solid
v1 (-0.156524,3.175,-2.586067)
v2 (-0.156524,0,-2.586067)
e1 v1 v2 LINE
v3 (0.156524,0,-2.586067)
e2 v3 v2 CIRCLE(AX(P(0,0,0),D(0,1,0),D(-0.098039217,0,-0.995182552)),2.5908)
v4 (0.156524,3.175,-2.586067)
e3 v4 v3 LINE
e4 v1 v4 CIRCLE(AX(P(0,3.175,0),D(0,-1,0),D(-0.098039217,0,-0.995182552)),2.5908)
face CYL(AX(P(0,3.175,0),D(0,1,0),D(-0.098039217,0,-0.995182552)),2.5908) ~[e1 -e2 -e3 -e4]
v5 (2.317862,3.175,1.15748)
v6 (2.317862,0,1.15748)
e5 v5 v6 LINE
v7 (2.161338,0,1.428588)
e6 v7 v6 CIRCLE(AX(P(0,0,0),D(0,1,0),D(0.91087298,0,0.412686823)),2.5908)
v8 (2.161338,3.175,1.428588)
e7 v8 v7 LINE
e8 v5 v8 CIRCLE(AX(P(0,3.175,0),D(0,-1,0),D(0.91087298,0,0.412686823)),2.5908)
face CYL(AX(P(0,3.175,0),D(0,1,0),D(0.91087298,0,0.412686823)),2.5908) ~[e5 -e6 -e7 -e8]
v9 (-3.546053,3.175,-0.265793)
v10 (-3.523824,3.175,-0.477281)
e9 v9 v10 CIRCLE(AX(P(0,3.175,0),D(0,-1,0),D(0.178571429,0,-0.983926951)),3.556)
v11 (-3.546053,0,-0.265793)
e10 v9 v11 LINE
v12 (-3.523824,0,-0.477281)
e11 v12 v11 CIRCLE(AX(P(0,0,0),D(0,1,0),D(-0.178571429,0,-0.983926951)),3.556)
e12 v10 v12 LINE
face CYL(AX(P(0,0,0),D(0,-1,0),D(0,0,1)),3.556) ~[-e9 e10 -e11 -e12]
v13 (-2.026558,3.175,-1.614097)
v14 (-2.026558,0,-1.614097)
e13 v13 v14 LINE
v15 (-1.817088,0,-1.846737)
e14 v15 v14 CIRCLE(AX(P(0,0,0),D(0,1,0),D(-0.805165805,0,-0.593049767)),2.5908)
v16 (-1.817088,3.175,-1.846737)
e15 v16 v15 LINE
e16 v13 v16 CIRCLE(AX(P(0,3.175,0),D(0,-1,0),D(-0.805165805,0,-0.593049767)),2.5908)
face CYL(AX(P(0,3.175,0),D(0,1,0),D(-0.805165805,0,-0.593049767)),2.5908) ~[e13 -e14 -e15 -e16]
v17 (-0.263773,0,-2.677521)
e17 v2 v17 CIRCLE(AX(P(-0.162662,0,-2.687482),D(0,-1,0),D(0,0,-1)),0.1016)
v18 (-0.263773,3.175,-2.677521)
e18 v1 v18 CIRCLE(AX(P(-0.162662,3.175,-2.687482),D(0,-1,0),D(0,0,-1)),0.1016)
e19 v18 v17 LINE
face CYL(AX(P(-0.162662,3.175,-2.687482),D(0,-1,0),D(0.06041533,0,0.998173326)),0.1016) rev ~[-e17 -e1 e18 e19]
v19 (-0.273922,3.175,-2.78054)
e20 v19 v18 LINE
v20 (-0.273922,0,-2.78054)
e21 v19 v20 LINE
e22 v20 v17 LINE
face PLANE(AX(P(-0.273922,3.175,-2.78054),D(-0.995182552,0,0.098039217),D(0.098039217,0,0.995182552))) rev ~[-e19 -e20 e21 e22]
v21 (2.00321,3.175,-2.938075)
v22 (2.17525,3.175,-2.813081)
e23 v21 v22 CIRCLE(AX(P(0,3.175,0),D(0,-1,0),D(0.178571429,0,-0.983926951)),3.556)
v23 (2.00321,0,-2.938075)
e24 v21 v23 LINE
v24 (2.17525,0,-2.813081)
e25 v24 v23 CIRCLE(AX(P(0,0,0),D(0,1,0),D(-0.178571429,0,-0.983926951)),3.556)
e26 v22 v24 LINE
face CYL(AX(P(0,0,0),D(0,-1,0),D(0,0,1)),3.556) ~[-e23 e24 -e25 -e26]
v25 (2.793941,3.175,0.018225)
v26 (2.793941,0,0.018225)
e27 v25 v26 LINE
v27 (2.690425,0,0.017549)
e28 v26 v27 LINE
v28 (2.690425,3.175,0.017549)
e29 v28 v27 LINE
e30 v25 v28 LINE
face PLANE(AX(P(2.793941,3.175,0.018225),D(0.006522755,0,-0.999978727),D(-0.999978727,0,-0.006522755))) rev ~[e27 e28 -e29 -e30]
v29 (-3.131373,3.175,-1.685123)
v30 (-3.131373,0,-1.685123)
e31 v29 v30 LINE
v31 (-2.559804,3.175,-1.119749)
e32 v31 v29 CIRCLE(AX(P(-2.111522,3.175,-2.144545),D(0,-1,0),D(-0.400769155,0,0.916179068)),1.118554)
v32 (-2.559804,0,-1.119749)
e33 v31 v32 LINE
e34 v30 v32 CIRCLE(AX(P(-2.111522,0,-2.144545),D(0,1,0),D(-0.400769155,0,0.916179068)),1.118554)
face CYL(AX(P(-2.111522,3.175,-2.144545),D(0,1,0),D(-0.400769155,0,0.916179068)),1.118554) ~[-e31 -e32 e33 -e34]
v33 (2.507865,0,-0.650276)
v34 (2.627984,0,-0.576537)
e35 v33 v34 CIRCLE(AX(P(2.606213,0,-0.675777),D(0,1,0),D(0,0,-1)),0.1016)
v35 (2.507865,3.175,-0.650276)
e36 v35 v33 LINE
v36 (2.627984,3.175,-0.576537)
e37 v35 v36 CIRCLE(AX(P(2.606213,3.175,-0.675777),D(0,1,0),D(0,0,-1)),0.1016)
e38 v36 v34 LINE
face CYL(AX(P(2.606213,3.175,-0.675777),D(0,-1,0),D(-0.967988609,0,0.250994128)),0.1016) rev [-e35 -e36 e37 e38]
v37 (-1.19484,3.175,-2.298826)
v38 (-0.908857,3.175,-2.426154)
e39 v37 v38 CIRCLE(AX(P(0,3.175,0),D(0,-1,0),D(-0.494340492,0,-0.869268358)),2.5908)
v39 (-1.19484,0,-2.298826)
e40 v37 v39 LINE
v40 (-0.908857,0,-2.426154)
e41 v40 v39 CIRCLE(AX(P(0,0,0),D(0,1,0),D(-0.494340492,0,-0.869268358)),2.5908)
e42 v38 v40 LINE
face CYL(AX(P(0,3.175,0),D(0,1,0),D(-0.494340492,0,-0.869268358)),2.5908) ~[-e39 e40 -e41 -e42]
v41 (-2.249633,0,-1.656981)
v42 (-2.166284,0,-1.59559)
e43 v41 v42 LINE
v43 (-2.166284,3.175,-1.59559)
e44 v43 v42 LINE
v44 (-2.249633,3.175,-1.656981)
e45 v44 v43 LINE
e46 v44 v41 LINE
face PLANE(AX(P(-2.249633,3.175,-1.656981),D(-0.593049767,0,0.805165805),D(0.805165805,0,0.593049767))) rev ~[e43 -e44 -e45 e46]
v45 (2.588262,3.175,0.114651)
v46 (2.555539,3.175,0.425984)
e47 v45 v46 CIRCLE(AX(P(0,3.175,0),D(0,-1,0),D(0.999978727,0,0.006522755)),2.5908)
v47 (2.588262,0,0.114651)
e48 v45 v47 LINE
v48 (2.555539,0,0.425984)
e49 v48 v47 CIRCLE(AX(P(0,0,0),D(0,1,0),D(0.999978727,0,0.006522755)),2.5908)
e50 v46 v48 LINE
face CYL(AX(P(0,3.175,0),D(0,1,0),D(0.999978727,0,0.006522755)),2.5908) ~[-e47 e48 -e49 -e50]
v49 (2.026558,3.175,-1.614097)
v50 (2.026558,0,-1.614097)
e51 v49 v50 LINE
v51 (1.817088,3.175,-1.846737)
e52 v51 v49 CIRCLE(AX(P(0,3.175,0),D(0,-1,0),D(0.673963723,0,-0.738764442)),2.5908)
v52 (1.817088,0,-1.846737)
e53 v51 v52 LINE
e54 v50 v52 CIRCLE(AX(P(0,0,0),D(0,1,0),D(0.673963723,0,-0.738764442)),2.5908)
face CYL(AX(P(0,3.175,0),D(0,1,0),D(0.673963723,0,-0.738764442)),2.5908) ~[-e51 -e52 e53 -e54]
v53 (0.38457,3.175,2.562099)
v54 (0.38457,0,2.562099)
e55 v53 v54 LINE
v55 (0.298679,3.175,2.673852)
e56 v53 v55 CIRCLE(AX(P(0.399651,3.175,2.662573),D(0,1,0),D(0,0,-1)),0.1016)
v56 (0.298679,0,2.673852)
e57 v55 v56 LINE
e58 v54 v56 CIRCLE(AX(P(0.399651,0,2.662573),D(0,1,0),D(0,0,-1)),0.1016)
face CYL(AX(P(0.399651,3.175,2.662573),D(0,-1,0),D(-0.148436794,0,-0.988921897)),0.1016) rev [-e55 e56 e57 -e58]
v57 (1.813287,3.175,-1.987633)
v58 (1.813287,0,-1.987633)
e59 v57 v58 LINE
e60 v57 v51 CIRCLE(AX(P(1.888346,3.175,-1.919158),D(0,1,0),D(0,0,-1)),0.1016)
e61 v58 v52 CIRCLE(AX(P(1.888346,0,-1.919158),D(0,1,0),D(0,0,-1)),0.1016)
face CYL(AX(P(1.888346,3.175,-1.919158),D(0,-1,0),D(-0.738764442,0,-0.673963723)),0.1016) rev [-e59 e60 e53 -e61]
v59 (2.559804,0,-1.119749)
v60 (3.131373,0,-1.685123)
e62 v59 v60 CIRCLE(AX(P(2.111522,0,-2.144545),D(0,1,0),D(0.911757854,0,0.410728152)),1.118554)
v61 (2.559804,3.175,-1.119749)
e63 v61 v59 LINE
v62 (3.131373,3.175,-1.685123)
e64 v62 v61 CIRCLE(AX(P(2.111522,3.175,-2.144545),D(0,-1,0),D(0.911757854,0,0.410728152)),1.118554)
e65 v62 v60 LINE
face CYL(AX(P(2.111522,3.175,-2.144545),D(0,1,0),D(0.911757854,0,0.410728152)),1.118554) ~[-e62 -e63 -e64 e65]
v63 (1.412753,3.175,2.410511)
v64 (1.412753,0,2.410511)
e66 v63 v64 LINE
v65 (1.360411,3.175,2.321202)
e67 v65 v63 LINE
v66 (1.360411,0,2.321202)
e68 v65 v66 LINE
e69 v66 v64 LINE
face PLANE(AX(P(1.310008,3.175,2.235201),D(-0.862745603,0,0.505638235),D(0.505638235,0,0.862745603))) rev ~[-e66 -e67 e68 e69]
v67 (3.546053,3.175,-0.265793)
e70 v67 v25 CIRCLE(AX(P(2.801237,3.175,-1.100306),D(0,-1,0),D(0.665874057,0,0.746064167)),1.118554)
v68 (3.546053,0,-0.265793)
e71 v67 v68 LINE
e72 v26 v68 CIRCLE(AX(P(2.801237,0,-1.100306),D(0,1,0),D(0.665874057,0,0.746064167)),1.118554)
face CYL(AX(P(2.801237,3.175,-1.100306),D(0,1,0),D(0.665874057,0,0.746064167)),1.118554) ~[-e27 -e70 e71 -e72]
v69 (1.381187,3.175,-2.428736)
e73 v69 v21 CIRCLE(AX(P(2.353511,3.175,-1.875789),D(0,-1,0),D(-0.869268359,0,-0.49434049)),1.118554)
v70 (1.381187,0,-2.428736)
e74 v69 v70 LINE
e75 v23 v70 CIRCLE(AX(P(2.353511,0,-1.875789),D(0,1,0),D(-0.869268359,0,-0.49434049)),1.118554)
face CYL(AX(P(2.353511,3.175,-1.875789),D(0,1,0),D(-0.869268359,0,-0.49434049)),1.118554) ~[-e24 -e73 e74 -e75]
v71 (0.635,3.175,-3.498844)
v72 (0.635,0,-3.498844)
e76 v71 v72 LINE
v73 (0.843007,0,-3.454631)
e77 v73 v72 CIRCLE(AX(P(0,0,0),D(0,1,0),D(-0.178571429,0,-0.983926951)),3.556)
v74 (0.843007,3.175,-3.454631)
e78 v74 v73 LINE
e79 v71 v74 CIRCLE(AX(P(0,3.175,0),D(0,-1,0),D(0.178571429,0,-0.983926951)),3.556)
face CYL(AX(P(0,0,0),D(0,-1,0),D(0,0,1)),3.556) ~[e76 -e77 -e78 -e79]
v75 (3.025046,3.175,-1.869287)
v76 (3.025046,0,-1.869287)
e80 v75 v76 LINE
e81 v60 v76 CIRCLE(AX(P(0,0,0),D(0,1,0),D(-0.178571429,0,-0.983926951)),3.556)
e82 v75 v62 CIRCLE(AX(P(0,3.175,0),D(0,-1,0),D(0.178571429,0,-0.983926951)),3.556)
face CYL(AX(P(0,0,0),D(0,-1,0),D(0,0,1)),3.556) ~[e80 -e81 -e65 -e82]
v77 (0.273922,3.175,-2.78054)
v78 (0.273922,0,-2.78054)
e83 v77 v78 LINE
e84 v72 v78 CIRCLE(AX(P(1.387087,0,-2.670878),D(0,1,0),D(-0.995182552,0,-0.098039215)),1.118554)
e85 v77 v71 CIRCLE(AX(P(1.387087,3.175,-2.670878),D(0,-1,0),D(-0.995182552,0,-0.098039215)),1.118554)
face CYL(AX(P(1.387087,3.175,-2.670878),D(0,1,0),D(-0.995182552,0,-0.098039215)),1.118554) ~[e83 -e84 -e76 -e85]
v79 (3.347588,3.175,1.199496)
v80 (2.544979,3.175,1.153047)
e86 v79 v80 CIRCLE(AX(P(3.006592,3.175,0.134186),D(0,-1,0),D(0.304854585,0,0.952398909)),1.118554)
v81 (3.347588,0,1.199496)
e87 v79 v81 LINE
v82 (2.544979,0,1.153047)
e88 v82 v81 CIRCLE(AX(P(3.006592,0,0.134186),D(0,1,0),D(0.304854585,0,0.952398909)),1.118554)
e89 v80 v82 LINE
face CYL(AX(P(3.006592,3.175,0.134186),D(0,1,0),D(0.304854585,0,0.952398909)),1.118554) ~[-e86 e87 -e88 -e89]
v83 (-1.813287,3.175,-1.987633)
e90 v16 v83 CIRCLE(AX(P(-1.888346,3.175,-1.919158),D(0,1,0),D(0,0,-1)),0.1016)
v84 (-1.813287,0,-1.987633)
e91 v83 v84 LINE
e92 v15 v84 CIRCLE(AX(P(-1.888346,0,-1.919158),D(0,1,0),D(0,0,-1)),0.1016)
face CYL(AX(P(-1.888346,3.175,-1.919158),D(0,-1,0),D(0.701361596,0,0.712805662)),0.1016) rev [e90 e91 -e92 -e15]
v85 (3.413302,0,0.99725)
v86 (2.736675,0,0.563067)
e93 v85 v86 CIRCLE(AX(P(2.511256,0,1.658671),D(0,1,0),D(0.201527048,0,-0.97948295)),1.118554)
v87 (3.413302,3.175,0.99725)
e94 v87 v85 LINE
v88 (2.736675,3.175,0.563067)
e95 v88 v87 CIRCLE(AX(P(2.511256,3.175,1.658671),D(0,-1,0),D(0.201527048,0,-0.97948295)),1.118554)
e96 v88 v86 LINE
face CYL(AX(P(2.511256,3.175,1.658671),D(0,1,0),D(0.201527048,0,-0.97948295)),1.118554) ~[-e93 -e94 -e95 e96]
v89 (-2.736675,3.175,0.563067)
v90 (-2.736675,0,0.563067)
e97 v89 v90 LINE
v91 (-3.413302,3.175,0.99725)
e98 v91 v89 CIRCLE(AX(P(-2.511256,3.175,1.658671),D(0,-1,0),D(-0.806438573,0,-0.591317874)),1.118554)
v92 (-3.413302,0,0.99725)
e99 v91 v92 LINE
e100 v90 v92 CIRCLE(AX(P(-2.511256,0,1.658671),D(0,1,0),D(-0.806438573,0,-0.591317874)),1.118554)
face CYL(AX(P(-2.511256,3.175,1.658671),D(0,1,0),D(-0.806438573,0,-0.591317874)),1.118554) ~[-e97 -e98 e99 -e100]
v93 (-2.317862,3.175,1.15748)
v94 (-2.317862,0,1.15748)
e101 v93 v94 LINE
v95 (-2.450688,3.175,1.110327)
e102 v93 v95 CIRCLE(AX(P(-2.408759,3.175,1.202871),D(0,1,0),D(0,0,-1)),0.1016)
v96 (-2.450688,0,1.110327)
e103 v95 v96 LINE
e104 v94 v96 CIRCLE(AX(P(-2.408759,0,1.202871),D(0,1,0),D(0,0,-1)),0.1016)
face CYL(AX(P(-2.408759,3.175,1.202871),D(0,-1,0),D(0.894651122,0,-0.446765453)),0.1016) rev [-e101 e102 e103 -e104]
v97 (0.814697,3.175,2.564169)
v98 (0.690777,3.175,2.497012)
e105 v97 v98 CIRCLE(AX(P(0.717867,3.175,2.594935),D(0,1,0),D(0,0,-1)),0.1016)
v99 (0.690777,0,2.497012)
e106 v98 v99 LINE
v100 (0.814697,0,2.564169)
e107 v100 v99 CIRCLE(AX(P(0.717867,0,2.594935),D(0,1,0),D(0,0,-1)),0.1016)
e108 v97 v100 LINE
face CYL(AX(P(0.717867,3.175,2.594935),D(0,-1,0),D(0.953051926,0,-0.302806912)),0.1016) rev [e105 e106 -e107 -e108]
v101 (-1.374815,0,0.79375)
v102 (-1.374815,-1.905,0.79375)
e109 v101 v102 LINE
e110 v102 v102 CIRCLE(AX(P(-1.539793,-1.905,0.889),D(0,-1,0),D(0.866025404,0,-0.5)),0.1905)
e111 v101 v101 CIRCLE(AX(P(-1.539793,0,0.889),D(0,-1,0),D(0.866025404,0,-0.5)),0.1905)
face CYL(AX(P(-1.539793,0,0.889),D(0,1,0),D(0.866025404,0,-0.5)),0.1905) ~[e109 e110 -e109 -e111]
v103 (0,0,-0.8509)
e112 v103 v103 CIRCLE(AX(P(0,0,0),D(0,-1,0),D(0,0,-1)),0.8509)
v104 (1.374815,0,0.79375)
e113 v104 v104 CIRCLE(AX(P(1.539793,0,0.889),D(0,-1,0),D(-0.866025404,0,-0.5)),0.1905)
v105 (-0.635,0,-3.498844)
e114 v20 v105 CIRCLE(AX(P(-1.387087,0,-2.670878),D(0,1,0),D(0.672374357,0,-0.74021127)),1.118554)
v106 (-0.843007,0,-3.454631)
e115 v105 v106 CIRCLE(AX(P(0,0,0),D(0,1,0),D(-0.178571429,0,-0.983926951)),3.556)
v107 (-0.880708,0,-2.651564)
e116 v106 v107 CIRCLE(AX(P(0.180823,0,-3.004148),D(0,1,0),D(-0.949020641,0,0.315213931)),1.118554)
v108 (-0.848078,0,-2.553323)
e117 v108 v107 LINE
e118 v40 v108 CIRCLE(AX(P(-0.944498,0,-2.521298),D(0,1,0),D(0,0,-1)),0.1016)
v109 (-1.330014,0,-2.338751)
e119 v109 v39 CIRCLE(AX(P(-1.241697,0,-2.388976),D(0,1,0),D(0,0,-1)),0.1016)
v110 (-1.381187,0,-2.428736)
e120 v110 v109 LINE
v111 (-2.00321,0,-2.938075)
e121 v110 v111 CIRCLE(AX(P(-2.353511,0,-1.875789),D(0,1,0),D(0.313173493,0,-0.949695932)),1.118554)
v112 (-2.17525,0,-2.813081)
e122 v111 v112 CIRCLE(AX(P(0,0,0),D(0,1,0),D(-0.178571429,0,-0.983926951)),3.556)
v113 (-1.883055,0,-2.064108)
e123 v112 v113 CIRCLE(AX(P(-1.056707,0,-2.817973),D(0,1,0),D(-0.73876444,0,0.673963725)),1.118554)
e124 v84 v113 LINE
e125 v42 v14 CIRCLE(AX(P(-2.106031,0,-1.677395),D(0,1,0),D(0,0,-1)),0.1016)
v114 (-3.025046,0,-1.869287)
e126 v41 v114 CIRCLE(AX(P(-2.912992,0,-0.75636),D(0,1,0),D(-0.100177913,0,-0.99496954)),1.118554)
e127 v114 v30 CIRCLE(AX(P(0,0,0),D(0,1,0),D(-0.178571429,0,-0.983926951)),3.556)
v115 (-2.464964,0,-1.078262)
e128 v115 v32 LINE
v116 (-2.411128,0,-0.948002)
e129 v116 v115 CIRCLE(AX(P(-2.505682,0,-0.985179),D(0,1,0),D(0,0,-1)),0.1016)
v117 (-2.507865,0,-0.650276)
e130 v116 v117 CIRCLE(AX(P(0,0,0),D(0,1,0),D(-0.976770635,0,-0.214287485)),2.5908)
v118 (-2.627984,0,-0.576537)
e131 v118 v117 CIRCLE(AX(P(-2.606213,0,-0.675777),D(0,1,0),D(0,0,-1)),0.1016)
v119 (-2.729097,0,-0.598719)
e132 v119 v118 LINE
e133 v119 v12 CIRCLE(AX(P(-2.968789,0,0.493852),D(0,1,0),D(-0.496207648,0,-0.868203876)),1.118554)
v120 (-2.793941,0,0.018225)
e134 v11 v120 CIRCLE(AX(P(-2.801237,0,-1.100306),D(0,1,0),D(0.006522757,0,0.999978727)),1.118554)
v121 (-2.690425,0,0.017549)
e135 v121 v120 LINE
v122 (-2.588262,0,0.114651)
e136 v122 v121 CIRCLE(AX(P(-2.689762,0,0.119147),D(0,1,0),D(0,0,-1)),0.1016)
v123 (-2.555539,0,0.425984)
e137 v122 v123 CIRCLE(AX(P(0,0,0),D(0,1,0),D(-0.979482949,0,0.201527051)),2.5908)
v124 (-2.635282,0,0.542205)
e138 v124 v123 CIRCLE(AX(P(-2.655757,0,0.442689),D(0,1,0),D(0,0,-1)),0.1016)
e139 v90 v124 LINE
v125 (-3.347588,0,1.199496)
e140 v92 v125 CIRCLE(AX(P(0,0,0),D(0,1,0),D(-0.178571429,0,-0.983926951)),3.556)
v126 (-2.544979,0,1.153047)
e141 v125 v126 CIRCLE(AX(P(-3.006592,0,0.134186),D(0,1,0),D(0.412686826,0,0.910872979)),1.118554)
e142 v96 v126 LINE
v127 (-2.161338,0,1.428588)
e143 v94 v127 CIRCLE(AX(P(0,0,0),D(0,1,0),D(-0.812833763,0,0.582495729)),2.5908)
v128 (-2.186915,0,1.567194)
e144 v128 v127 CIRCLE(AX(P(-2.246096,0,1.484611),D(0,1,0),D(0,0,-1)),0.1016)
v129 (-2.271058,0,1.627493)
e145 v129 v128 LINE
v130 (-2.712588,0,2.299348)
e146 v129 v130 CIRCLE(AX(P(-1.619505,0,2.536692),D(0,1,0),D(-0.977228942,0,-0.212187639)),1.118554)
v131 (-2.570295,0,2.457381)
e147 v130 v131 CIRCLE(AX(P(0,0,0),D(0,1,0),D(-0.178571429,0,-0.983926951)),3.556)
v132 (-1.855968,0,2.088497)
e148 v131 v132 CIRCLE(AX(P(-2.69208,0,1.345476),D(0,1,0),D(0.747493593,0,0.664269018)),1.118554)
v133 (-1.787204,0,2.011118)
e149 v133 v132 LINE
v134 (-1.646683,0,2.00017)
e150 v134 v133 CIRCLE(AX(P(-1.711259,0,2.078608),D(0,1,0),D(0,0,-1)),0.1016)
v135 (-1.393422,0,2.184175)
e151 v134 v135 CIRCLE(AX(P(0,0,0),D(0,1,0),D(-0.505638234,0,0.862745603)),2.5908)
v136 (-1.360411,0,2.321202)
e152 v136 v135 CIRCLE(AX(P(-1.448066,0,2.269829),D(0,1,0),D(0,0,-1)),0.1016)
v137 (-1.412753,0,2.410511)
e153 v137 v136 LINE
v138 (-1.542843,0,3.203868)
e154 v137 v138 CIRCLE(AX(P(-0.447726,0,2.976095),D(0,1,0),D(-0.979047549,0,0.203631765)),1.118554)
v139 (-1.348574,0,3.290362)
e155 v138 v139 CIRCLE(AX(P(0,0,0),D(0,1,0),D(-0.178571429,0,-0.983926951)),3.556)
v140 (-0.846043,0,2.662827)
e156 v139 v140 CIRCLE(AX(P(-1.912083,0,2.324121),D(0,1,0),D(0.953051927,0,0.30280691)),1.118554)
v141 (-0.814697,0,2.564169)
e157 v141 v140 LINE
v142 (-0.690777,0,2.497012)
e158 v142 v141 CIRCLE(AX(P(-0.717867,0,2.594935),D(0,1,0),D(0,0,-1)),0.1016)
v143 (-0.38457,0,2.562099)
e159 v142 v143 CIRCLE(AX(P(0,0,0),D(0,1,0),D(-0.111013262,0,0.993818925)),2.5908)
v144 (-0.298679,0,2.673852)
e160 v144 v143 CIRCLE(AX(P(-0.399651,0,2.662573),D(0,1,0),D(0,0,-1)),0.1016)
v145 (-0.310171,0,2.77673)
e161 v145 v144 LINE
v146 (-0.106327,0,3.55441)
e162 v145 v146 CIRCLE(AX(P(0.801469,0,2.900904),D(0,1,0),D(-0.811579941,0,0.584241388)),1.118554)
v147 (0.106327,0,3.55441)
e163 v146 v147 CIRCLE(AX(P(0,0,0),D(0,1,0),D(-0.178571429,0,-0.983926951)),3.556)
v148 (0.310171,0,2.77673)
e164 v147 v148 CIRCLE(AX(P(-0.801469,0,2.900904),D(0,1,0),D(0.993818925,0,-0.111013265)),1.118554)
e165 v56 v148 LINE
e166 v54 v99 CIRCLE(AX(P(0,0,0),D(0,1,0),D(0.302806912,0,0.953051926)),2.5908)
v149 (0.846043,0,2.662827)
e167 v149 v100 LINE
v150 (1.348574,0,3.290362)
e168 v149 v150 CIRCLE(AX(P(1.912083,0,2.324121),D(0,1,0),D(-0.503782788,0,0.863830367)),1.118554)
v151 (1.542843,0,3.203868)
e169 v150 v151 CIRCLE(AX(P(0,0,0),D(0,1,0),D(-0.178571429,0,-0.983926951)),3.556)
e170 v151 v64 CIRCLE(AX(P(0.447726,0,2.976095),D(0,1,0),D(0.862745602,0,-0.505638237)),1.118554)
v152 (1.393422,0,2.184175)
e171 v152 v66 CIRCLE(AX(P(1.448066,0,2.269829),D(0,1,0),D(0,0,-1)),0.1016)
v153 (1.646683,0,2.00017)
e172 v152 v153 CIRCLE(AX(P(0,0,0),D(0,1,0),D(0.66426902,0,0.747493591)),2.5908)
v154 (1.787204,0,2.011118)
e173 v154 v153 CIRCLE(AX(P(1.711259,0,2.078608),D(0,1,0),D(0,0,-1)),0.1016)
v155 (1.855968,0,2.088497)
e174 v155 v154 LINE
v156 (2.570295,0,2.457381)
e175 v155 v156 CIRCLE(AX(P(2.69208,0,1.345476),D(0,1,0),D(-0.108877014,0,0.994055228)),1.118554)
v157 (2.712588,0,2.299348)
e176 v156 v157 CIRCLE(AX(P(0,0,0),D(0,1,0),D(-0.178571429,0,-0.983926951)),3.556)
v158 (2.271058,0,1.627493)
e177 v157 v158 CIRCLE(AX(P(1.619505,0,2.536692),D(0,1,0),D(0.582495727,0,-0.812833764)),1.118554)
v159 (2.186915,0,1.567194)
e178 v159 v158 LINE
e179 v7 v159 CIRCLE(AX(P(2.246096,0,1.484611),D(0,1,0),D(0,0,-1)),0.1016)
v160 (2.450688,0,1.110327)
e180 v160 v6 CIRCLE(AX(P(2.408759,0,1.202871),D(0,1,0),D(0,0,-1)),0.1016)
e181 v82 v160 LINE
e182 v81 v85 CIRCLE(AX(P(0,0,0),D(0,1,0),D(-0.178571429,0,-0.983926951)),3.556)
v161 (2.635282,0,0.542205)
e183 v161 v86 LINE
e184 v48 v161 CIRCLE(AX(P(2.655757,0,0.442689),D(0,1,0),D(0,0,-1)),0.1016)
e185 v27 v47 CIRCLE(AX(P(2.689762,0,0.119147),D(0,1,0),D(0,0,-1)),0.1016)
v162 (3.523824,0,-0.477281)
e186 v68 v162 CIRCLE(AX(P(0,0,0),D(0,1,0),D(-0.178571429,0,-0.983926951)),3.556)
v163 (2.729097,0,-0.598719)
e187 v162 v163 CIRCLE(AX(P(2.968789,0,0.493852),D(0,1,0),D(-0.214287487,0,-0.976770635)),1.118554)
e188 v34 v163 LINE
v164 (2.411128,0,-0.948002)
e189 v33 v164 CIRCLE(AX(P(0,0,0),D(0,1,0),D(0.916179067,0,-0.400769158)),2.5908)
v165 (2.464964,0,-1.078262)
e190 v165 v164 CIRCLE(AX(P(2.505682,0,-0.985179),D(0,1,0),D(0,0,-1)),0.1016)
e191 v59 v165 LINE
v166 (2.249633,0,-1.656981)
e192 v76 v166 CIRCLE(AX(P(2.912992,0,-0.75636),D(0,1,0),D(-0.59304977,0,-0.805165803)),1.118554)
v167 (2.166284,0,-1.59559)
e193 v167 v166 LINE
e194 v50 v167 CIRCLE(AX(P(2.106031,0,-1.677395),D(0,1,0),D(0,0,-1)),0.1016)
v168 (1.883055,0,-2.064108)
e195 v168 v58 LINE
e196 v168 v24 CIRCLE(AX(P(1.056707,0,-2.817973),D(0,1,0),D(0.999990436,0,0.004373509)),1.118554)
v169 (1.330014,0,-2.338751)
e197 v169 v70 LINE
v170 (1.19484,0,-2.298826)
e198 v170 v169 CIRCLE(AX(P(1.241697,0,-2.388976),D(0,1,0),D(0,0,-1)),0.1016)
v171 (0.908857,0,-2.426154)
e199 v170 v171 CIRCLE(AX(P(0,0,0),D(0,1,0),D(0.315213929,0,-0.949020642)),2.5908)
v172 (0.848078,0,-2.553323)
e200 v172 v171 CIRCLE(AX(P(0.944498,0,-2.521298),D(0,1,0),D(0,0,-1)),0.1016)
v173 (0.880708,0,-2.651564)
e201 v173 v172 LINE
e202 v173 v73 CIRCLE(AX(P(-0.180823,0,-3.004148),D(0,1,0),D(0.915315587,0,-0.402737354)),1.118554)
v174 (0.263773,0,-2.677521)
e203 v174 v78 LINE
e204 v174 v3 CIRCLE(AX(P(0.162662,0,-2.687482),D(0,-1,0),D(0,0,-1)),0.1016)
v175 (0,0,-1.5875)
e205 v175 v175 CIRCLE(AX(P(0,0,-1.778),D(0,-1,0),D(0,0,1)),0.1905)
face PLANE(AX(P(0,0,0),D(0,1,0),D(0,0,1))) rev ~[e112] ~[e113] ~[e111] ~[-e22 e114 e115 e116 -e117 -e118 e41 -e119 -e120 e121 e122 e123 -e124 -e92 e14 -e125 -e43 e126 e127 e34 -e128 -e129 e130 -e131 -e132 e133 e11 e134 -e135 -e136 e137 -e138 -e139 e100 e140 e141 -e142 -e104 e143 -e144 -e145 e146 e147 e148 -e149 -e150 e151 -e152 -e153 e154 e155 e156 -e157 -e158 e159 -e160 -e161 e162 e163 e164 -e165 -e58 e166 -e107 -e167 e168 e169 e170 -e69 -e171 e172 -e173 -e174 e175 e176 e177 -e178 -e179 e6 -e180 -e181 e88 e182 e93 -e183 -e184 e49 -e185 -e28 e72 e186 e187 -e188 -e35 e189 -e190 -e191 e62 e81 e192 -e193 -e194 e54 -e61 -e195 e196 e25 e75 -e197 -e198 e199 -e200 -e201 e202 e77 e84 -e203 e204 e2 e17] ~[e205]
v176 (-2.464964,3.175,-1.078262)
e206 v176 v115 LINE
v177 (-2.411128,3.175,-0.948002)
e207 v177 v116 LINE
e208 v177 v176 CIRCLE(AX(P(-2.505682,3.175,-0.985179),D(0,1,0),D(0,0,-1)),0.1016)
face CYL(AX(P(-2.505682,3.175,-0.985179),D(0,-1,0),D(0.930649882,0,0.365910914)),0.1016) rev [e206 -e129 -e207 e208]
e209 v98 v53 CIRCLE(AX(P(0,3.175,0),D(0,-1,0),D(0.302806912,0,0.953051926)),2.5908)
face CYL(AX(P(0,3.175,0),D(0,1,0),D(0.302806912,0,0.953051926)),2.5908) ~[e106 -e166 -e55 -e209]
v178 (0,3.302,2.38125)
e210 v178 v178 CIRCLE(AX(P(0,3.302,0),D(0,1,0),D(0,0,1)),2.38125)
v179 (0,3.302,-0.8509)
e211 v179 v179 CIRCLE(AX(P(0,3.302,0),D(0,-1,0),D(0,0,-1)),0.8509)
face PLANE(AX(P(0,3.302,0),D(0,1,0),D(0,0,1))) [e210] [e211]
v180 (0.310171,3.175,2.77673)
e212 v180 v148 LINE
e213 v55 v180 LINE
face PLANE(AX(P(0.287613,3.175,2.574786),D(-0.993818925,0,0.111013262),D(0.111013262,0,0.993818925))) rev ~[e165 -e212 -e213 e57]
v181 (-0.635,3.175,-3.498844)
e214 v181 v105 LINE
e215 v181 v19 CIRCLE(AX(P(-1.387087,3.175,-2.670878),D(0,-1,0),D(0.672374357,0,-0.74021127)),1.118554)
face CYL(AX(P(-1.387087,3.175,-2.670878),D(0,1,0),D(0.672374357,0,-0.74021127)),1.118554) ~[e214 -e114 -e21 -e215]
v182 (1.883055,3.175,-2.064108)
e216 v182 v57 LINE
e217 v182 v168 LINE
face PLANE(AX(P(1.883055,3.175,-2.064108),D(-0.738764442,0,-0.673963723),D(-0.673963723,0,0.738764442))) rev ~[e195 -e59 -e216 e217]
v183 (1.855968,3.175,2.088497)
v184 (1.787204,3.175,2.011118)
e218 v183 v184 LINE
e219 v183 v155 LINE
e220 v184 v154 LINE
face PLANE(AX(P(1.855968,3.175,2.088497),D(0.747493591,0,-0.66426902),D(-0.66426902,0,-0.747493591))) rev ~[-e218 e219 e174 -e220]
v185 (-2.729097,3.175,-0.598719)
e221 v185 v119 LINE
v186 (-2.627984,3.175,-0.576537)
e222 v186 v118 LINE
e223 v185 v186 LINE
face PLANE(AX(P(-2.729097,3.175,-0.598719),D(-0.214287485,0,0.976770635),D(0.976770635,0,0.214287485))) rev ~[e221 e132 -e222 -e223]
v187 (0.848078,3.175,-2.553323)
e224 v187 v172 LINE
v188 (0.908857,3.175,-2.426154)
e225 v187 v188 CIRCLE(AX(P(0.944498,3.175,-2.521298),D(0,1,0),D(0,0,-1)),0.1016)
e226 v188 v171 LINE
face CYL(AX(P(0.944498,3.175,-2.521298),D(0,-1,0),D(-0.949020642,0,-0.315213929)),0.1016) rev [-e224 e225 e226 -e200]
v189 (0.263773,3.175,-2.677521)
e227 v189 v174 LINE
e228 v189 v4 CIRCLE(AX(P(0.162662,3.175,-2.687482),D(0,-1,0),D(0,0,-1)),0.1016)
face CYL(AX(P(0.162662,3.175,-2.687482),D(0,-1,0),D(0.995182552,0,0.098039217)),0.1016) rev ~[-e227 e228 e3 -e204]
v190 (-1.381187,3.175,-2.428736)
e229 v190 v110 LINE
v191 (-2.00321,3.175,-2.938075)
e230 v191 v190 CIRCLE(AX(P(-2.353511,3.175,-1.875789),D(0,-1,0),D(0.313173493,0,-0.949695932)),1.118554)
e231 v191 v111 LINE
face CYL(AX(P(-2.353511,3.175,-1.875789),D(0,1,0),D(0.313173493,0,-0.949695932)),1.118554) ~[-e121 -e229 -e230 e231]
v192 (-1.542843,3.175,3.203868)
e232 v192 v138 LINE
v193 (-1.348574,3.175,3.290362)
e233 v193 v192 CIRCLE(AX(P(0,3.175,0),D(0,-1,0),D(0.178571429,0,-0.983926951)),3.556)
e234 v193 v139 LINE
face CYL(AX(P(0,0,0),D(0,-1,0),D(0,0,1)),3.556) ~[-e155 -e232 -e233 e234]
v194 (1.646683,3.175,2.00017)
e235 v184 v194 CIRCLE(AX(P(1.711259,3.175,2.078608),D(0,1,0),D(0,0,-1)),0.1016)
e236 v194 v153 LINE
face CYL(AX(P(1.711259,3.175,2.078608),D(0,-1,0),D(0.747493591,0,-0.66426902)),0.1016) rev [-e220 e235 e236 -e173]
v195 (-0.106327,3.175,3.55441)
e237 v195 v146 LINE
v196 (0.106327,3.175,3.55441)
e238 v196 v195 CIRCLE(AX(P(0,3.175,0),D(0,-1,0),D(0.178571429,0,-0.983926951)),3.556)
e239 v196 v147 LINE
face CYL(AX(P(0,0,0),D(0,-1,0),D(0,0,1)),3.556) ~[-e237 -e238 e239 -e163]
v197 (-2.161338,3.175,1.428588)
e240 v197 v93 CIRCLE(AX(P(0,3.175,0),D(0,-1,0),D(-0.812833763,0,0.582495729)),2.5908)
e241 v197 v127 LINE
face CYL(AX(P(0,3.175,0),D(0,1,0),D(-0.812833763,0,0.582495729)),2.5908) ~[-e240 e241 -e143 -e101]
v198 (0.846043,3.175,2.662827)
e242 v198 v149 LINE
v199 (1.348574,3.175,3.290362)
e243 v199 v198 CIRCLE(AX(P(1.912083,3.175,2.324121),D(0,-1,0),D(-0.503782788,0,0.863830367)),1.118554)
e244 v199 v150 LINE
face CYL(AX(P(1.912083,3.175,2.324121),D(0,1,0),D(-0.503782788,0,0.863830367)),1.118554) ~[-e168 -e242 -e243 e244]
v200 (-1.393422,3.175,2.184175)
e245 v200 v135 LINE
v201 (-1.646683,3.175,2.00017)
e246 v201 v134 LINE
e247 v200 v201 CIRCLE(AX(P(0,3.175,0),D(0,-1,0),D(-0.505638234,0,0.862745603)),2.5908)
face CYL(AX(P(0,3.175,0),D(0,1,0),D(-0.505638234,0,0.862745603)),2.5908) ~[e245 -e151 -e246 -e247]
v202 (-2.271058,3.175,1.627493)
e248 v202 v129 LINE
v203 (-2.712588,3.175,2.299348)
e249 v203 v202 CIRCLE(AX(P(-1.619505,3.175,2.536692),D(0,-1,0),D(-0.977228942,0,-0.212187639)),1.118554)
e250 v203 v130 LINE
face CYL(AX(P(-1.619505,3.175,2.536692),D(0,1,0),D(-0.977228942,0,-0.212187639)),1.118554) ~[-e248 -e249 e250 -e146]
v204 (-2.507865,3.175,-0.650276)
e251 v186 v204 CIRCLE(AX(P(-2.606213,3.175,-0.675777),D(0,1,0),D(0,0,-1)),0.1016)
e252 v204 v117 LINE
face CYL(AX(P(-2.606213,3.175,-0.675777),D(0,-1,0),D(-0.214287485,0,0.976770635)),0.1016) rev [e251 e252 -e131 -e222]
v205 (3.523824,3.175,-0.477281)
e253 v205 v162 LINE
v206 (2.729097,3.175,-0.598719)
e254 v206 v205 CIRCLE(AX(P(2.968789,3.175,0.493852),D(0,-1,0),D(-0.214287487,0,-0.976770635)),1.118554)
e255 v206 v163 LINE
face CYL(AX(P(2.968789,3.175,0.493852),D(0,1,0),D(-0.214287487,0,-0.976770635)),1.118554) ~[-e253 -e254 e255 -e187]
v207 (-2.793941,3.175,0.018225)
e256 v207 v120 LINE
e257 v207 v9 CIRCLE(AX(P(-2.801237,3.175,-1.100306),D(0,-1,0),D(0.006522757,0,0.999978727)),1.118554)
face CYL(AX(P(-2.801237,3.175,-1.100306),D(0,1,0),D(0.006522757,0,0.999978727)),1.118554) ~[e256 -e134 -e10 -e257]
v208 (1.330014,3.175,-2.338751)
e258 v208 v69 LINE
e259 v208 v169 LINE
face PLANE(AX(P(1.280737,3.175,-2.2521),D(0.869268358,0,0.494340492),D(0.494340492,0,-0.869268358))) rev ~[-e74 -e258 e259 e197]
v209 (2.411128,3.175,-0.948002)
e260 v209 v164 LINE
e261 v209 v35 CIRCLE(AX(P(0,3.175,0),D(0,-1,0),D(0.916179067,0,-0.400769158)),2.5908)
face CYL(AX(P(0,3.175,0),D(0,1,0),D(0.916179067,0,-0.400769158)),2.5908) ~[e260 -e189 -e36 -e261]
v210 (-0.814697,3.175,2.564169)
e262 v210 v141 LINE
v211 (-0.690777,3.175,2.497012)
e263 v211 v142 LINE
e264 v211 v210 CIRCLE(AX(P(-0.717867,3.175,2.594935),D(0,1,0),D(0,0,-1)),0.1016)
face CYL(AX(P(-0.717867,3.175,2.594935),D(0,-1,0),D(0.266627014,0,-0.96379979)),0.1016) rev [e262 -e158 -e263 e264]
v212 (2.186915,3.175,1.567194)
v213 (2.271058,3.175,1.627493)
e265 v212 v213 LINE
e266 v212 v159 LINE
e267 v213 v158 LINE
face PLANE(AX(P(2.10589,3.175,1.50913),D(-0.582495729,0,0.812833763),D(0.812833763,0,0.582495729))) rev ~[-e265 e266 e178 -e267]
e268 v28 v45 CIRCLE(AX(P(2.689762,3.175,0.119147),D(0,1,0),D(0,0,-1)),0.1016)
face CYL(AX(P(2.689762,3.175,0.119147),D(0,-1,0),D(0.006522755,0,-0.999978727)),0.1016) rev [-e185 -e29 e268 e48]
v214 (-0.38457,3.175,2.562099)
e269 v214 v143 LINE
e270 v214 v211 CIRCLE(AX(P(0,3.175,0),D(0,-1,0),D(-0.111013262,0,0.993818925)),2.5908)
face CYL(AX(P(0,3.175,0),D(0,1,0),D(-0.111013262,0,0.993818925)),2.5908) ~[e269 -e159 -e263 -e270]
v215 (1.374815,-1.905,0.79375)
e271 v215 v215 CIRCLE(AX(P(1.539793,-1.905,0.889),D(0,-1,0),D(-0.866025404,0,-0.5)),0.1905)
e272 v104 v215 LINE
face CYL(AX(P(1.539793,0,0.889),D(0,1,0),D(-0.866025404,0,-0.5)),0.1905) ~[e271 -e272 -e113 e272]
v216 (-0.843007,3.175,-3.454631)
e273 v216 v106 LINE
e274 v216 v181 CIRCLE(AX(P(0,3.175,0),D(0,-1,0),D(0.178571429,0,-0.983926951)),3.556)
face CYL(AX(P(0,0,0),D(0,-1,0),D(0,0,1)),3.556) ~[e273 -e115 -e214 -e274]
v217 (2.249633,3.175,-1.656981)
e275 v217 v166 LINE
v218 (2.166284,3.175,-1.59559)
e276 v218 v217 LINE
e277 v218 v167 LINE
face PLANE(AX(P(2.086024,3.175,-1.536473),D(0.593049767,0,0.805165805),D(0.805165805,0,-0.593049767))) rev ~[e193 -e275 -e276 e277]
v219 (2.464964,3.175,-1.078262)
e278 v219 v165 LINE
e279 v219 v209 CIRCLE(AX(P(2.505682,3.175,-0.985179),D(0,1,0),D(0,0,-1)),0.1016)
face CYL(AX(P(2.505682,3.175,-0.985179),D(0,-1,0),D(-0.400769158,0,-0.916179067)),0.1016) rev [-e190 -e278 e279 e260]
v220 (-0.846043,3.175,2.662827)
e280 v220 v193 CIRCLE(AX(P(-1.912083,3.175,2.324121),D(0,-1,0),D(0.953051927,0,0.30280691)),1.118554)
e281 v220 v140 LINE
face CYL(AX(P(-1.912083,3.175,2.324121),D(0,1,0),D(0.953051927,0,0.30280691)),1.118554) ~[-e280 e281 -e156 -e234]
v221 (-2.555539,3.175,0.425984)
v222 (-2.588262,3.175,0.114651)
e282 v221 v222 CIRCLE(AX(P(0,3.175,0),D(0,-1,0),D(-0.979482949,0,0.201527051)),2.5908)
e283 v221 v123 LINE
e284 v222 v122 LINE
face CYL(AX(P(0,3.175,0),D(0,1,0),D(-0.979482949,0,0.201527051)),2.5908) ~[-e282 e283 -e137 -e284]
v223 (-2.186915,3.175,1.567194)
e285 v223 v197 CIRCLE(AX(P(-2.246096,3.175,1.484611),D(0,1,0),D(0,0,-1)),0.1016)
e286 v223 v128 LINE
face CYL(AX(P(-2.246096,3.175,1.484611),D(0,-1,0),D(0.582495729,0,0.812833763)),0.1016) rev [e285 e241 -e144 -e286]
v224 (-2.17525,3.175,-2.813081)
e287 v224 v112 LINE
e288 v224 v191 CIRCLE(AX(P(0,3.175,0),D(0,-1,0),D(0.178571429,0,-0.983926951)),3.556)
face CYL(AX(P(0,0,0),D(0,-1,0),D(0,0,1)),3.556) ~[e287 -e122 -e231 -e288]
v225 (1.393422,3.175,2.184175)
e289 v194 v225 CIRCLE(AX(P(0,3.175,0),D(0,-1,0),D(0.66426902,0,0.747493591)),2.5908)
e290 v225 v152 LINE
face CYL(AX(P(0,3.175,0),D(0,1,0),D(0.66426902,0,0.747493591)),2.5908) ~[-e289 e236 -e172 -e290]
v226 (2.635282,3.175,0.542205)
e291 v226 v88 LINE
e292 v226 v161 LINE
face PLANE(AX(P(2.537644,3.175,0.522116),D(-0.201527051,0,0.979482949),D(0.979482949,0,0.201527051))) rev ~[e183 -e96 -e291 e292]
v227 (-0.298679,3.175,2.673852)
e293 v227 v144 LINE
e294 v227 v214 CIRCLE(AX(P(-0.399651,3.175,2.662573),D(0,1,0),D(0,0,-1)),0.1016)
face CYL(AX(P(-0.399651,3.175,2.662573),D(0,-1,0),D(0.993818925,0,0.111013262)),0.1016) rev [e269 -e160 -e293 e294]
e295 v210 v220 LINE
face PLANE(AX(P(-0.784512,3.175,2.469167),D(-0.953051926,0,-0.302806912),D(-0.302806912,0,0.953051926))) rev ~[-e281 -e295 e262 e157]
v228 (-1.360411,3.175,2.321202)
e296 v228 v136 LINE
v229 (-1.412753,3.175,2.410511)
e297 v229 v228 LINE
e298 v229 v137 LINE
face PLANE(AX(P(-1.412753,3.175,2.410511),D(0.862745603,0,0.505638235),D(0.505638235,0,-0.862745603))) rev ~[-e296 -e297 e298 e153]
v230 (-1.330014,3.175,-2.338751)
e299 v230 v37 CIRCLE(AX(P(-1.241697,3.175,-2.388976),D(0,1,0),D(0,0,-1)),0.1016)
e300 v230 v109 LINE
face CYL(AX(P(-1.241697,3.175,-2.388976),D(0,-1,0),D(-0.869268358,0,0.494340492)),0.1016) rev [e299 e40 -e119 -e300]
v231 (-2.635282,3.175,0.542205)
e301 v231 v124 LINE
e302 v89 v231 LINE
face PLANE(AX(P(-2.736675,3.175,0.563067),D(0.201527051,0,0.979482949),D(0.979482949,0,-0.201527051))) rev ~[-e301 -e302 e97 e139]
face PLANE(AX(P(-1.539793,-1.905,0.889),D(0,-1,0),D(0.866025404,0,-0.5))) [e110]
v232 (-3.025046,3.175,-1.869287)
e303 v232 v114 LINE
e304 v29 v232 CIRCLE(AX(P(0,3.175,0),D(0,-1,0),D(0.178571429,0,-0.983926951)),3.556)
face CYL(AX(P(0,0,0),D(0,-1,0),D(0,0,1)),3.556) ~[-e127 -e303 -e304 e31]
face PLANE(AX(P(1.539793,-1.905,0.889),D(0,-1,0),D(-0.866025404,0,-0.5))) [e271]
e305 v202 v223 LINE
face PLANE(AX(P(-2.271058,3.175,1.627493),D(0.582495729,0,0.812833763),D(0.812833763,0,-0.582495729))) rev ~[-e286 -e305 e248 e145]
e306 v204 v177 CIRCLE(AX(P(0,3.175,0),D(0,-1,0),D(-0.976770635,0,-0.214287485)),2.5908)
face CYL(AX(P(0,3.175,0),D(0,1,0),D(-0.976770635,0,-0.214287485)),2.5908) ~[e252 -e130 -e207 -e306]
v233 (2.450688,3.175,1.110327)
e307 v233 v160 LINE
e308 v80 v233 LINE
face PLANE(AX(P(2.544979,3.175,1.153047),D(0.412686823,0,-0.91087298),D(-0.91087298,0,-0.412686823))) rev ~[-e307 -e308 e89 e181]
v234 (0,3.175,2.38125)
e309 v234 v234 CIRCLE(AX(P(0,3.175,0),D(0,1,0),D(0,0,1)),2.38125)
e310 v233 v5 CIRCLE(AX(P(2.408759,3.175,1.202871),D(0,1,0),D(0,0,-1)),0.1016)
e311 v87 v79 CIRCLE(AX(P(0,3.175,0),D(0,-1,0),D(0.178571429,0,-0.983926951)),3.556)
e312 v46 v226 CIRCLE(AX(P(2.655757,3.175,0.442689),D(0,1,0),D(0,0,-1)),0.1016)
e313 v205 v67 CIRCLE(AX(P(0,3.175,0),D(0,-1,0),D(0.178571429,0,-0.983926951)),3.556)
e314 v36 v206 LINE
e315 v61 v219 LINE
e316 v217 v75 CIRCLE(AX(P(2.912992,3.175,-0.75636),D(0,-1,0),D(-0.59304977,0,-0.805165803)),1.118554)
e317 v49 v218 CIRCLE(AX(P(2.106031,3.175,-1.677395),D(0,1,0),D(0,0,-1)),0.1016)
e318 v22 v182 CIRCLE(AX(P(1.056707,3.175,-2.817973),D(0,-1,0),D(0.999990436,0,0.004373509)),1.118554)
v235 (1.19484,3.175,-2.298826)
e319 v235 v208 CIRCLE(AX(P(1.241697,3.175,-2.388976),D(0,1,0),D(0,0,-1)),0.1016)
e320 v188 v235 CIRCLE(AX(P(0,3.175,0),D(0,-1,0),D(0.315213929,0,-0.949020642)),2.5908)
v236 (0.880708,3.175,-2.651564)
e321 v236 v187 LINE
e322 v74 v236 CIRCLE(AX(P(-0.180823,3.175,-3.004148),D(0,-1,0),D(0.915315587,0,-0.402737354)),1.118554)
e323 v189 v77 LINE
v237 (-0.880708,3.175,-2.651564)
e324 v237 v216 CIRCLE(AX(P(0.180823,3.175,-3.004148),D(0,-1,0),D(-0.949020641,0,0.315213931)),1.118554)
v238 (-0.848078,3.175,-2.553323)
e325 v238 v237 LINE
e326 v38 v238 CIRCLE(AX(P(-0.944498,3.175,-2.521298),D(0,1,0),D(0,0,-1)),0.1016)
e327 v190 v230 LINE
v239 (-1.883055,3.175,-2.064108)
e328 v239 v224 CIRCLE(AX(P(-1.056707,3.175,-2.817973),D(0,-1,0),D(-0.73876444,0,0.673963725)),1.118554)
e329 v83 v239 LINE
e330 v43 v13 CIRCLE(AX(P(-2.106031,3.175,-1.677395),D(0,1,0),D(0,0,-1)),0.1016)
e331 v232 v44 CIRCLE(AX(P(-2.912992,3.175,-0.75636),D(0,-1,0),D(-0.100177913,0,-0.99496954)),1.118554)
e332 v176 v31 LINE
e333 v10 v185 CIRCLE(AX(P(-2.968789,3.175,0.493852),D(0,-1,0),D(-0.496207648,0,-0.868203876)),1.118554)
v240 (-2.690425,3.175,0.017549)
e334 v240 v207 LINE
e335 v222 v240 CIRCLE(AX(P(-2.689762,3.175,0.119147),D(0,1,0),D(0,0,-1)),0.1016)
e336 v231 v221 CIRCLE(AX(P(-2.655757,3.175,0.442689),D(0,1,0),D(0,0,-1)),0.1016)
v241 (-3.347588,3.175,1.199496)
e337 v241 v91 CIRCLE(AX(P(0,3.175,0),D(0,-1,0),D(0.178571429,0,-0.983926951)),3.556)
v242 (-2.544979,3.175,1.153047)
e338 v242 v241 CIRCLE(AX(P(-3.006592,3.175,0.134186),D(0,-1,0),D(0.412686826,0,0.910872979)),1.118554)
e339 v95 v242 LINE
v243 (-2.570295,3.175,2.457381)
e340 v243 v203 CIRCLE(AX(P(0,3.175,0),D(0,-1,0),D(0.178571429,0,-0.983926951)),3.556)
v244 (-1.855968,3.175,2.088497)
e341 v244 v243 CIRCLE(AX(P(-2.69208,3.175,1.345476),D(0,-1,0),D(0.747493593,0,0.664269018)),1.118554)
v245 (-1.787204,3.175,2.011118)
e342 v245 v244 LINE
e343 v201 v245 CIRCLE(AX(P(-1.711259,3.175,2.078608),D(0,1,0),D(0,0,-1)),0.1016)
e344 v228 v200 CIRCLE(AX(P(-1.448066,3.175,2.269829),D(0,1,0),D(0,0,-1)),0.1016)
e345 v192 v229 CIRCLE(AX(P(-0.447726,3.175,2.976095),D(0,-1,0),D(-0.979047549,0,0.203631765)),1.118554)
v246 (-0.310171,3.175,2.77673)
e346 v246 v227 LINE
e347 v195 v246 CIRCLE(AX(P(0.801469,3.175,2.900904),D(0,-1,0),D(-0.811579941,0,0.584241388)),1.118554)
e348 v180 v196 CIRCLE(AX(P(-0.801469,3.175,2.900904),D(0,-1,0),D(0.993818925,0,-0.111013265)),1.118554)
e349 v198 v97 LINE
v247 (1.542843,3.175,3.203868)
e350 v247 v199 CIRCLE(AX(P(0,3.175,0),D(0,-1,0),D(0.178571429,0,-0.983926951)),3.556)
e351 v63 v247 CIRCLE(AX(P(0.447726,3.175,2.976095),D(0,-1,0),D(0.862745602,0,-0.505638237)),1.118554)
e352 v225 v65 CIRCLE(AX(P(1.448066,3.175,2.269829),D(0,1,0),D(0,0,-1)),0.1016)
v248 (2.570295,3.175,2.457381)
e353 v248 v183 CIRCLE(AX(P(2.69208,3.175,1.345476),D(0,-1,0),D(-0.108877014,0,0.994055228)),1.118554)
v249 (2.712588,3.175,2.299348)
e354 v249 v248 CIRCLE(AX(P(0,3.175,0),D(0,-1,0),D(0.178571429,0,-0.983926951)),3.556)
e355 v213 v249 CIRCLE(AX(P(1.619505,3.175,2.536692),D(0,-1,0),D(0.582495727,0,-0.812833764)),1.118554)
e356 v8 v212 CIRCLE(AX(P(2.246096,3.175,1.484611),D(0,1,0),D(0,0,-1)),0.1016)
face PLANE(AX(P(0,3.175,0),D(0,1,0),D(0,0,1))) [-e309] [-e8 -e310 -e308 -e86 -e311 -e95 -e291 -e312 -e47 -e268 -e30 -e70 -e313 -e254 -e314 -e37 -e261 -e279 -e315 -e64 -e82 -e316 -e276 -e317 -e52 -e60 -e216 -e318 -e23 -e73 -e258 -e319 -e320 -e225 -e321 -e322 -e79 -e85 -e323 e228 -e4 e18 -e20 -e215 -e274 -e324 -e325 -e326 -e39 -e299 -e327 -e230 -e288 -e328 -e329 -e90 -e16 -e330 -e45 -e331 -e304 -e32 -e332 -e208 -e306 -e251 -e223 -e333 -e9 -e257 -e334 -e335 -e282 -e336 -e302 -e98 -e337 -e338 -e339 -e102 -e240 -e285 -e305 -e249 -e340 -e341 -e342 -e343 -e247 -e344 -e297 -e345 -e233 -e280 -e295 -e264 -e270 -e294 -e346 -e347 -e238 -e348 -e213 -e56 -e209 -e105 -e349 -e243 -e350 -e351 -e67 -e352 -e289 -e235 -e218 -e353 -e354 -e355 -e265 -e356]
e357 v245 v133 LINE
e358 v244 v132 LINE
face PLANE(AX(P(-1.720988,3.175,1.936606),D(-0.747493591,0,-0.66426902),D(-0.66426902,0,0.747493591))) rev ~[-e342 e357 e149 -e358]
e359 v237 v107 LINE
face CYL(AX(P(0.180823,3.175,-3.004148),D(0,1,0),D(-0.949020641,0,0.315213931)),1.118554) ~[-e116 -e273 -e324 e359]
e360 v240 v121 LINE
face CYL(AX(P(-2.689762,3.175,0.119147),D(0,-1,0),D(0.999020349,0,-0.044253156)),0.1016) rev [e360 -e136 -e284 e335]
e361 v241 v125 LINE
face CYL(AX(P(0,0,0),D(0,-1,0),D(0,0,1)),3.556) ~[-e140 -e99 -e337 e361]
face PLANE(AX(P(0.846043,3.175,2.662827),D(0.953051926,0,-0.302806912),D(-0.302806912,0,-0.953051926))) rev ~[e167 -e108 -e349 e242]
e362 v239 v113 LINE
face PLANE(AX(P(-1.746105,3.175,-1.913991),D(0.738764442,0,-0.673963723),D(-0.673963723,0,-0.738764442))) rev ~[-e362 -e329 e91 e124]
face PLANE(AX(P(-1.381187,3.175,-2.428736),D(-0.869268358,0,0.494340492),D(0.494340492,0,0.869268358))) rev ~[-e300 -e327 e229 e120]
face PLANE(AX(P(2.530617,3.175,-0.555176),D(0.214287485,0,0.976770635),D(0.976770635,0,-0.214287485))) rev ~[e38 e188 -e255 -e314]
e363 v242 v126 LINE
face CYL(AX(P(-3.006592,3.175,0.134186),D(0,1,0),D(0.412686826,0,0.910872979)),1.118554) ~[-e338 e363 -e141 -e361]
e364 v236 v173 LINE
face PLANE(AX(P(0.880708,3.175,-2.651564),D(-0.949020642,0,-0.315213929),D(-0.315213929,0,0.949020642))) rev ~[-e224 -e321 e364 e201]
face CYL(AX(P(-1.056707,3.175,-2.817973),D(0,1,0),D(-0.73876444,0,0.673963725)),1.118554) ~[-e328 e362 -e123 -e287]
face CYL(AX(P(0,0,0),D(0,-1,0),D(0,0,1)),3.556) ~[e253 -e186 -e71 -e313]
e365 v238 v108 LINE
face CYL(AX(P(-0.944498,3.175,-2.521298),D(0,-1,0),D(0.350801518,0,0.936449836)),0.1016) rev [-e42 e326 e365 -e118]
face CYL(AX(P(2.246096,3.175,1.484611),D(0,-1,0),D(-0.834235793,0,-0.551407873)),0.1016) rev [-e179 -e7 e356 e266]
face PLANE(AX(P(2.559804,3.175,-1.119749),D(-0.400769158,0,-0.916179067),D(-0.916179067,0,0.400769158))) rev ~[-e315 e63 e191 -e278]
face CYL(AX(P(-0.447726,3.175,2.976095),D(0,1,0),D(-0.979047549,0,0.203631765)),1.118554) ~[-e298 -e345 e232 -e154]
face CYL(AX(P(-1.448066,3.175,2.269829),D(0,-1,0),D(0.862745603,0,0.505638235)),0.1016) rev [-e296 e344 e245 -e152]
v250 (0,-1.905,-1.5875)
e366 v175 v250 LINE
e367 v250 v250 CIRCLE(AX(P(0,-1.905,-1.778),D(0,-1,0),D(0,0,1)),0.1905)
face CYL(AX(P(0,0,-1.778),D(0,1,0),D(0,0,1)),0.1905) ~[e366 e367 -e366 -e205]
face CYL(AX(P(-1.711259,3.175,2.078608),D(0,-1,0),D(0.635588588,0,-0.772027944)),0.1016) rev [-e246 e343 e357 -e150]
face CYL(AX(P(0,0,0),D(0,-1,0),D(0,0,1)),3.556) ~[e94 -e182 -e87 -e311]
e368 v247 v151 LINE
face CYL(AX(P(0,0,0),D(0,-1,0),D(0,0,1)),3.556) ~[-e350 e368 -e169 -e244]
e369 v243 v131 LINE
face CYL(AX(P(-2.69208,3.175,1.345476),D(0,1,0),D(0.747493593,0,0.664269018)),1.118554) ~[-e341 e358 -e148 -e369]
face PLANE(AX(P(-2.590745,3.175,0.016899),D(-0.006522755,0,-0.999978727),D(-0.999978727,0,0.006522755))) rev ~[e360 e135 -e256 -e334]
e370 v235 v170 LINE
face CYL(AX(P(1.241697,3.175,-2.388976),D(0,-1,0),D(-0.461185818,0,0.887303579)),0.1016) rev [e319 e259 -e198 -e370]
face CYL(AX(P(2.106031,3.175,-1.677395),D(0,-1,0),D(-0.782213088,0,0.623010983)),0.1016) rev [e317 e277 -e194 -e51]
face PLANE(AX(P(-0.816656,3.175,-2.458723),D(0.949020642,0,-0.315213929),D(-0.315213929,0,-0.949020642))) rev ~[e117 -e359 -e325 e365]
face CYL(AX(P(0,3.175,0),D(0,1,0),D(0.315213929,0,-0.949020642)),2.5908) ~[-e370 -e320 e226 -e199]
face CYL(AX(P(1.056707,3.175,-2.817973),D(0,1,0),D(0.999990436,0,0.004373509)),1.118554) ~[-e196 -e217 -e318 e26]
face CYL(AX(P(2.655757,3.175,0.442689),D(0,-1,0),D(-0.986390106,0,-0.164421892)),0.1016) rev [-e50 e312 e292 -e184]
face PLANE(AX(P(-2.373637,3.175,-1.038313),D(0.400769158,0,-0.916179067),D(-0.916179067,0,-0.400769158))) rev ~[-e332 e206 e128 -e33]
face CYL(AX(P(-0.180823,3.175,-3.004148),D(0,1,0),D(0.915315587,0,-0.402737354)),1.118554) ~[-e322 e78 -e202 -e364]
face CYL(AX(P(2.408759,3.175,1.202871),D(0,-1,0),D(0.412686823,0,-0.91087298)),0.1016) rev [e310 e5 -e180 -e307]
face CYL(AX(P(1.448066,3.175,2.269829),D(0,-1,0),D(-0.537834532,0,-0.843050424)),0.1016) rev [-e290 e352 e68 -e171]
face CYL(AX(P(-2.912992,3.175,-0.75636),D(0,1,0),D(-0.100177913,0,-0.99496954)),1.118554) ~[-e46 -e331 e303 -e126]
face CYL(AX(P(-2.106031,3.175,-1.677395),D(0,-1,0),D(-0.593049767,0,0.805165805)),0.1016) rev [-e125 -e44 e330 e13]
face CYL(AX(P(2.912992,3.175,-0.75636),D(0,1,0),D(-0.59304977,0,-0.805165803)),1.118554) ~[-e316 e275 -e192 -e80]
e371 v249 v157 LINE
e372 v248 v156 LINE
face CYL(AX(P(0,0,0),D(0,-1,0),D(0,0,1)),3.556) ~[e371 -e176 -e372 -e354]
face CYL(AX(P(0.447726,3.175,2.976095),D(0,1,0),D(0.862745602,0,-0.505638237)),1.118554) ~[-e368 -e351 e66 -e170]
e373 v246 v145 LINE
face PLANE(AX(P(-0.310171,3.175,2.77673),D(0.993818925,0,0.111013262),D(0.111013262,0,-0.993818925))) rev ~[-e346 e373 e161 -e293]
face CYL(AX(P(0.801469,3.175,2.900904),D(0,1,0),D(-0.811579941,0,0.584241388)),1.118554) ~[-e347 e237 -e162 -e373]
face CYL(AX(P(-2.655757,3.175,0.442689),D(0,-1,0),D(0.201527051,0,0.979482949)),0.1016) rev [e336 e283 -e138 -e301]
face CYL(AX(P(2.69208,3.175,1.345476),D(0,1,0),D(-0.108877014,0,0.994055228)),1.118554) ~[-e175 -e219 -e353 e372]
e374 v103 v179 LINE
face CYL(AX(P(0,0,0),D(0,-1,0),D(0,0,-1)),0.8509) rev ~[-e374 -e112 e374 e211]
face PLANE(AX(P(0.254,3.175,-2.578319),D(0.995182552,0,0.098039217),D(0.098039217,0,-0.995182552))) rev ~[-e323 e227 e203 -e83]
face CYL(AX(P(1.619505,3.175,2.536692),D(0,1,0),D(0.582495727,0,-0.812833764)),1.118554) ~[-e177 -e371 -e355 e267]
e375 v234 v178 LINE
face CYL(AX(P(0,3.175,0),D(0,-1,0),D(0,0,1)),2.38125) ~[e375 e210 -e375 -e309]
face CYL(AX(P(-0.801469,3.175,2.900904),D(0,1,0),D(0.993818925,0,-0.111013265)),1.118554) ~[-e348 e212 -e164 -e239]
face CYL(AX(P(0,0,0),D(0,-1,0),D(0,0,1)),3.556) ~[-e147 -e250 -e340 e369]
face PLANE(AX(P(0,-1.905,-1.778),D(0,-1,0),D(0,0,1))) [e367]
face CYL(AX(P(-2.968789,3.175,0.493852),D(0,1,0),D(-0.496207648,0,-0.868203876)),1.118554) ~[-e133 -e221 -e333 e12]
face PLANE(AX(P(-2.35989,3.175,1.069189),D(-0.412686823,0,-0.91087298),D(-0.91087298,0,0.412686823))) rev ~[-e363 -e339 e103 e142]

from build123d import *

# Parameters (mm, degrees)
SKETCH1_R                = 3.556
BOSS_EXTRUDE1_DEPTH      = 3.175
SKETCH2_R                = 2.38125
BOSS_EXTRUDE2_DEPTH      = 0.127
CUT_EXTRUDE3_DEPTH       = 6.947343693
FILLET1_R                = 0.1016
CIRPATTERN3_COUNT        = 15
FILLET1_OF_CIRPATTERN3_R = 0.1016
SKETCH5_R                = 0.8509
CUT_EXTRUDE2_DEPTH       = 3.302
SKETCH6_R                = 0.1905
BOSS_EXTRUDE3_DEPTH      = 1.905
CIRPATTERN2_COUNT        = 3


with BuildPart() as part:
    # Sketch1 → Boss-Extrude1 (new body)
    with BuildSketch(Plane(origin=(0, 0, 0), x_dir=(1, 0, 0), z_dir=(0, 1, 0))):
        with Locations(Location((0, 0, 0), (0, 0, 270))):
            Circle(SKETCH1_R)
    extrude(amount=BOSS_EXTRUDE1_DEPTH)

    # Sketch2 → Boss-Extrude2 (add)
    with BuildSketch(Plane(origin=(0, 3.175, 0), x_dir=(1, 0, 0), z_dir=(0, 1, 0))):
        with Locations(Location((0, 0, 0), (0, 0, 270))):
            Circle(SKETCH2_R)
    extrude(amount=BOSS_EXTRUDE2_DEPTH)

    # Sketch8 → Cut-Extrude3 (cut, through all)
    with BuildSketch(Plane(origin=(0, 3.175, 0), x_dir=(1, 0, 0), z_dir=(0, 1, 0))):
        with BuildLine():
            Line((-0.273921569, 2.780540051), (-0.254, 2.578318956))
            ThreePointArc((-0.254, 2.578318956), (0, 2.5908), (0.254, 2.578318956))
            Line((0.254, 2.578318956), (0.273921569, 2.780540051))
            ThreePointArc((0.273921569, 2.780540051), (0.38769625, 3.17325346), (0.635, 3.498844238))
            ThreePointArc((0.635, 3.498844238), (0, 3.556), (-0.635, 3.498844238))
            ThreePointArc((-0.635, 3.498844238), (-0.38769625, 3.17325346), (-0.273921569, 2.780540051))
        make_face()
    cut_extrude3 = extrude(amount=-CUT_EXTRUDE3_DEPTH, mode=Mode.SUBTRACT)

    # Fillet1
    fillet1_edges = [part.edges().sort_by_distance(p)[0] for p in [
        (0.254, 1.5875, -2.578318956),
        (-0.254, 1.5875, -2.578318956),
    ]]
    fillet(fillet1_edges, radius=FILLET1_R)

    # CirPattern3: Cut-Extrude3 ×15 about axis
    cirpattern3_axis = Axis((0, 0, 0), (0, 1, 0))
    for i in range(1, CIRPATTERN3_COUNT):
        add(cut_extrude3.rotate(cirpattern3_axis, i * 360 / CIRPATTERN3_COUNT), mode=Mode.SUBTRACT)

    # Fillet1 of CirPattern3
    fillet1_of_cirpattern3_edges = [part.edges().sort_by_distance(p)[0] for p in [
        (-0.816656251, 1.5875, -2.458722678),
        (-1.280737343, 1.5875, -2.252100463),
        (-1.746105217, 1.5875, -1.913990912),
        (-2.086023565, 1.5875, -1.536473341),
        (-2.373636728, 1.5875, -1.03831273),
        (-2.530617361, 1.5875, -0.555176019),
        (-2.590744885, 1.5875, 0.016899157),
        (-2.537644426, 1.5875, 0.52211628),
        (-2.359889715, 1.5875, 1.069189026),
        (-2.105889715, 1.5875, 1.509129931),
        (-1.720988175, 1.5875, 1.936606398),
        (-1.310007542, 1.5875, 2.235201307),
        (-0.784512144, 1.5875, 2.469166931),
        (-0.287613163, 1.5875, 2.57478607),
        (0.287613163, 1.5875, 2.57478607),
        (0.784512144, 1.5875, 2.469166931),
        (1.310007542, 1.5875, 2.235201307),
        (1.720988175, 1.5875, 1.936606398),
        (2.105889715, 1.5875, 1.509129931),
        (2.359889715, 1.5875, 1.069189026),
        (2.537644426, 1.5875, 0.52211628),
        (2.590744885, 1.5875, 0.016899157),
        (2.530617361, 1.5875, -0.555176019),
        (2.373636728, 1.5875, -1.03831273),
        (2.086023565, 1.5875, -1.536473341),
        (1.746105217, 1.5875, -1.913990912),
        (1.280737343, 1.5875, -2.252100463),
        (0.816656251, 1.5875, -2.458722678),
    ]]
    fillet(fillet1_of_cirpattern3_edges, radius=FILLET1_OF_CIRPATTERN3_R)

    # Sketch5 → Cut-Extrude2 (cut)
    with BuildSketch(Plane.XZ):
        with Locations(Location((0, 0, 0), (0, 0, 270))):
            Circle(SKETCH5_R)
    extrude(amount=-CUT_EXTRUDE2_DEPTH, mode=Mode.SUBTRACT)

    # Sketch6 → Boss-Extrude3 (add)
    with BuildSketch(Plane.XZ):
        with Locations(Location((0, -1.778, 0), (0, 0, 90))):
            Circle(SKETCH6_R)
    boss_extrude3 = extrude(amount=BOSS_EXTRUDE3_DEPTH)

    # CirPattern2: Boss-Extrude3 ×3 about axis
    cirpattern2_axis = Axis((0, 0, 0), (0, 1, 0))
    for i in range(1, CIRPATTERN2_COUNT):
        add(boss_extrude3.rotate(cirpattern2_axis, i * 360 / CIRPATTERN2_COUNT))


solid = part.part
